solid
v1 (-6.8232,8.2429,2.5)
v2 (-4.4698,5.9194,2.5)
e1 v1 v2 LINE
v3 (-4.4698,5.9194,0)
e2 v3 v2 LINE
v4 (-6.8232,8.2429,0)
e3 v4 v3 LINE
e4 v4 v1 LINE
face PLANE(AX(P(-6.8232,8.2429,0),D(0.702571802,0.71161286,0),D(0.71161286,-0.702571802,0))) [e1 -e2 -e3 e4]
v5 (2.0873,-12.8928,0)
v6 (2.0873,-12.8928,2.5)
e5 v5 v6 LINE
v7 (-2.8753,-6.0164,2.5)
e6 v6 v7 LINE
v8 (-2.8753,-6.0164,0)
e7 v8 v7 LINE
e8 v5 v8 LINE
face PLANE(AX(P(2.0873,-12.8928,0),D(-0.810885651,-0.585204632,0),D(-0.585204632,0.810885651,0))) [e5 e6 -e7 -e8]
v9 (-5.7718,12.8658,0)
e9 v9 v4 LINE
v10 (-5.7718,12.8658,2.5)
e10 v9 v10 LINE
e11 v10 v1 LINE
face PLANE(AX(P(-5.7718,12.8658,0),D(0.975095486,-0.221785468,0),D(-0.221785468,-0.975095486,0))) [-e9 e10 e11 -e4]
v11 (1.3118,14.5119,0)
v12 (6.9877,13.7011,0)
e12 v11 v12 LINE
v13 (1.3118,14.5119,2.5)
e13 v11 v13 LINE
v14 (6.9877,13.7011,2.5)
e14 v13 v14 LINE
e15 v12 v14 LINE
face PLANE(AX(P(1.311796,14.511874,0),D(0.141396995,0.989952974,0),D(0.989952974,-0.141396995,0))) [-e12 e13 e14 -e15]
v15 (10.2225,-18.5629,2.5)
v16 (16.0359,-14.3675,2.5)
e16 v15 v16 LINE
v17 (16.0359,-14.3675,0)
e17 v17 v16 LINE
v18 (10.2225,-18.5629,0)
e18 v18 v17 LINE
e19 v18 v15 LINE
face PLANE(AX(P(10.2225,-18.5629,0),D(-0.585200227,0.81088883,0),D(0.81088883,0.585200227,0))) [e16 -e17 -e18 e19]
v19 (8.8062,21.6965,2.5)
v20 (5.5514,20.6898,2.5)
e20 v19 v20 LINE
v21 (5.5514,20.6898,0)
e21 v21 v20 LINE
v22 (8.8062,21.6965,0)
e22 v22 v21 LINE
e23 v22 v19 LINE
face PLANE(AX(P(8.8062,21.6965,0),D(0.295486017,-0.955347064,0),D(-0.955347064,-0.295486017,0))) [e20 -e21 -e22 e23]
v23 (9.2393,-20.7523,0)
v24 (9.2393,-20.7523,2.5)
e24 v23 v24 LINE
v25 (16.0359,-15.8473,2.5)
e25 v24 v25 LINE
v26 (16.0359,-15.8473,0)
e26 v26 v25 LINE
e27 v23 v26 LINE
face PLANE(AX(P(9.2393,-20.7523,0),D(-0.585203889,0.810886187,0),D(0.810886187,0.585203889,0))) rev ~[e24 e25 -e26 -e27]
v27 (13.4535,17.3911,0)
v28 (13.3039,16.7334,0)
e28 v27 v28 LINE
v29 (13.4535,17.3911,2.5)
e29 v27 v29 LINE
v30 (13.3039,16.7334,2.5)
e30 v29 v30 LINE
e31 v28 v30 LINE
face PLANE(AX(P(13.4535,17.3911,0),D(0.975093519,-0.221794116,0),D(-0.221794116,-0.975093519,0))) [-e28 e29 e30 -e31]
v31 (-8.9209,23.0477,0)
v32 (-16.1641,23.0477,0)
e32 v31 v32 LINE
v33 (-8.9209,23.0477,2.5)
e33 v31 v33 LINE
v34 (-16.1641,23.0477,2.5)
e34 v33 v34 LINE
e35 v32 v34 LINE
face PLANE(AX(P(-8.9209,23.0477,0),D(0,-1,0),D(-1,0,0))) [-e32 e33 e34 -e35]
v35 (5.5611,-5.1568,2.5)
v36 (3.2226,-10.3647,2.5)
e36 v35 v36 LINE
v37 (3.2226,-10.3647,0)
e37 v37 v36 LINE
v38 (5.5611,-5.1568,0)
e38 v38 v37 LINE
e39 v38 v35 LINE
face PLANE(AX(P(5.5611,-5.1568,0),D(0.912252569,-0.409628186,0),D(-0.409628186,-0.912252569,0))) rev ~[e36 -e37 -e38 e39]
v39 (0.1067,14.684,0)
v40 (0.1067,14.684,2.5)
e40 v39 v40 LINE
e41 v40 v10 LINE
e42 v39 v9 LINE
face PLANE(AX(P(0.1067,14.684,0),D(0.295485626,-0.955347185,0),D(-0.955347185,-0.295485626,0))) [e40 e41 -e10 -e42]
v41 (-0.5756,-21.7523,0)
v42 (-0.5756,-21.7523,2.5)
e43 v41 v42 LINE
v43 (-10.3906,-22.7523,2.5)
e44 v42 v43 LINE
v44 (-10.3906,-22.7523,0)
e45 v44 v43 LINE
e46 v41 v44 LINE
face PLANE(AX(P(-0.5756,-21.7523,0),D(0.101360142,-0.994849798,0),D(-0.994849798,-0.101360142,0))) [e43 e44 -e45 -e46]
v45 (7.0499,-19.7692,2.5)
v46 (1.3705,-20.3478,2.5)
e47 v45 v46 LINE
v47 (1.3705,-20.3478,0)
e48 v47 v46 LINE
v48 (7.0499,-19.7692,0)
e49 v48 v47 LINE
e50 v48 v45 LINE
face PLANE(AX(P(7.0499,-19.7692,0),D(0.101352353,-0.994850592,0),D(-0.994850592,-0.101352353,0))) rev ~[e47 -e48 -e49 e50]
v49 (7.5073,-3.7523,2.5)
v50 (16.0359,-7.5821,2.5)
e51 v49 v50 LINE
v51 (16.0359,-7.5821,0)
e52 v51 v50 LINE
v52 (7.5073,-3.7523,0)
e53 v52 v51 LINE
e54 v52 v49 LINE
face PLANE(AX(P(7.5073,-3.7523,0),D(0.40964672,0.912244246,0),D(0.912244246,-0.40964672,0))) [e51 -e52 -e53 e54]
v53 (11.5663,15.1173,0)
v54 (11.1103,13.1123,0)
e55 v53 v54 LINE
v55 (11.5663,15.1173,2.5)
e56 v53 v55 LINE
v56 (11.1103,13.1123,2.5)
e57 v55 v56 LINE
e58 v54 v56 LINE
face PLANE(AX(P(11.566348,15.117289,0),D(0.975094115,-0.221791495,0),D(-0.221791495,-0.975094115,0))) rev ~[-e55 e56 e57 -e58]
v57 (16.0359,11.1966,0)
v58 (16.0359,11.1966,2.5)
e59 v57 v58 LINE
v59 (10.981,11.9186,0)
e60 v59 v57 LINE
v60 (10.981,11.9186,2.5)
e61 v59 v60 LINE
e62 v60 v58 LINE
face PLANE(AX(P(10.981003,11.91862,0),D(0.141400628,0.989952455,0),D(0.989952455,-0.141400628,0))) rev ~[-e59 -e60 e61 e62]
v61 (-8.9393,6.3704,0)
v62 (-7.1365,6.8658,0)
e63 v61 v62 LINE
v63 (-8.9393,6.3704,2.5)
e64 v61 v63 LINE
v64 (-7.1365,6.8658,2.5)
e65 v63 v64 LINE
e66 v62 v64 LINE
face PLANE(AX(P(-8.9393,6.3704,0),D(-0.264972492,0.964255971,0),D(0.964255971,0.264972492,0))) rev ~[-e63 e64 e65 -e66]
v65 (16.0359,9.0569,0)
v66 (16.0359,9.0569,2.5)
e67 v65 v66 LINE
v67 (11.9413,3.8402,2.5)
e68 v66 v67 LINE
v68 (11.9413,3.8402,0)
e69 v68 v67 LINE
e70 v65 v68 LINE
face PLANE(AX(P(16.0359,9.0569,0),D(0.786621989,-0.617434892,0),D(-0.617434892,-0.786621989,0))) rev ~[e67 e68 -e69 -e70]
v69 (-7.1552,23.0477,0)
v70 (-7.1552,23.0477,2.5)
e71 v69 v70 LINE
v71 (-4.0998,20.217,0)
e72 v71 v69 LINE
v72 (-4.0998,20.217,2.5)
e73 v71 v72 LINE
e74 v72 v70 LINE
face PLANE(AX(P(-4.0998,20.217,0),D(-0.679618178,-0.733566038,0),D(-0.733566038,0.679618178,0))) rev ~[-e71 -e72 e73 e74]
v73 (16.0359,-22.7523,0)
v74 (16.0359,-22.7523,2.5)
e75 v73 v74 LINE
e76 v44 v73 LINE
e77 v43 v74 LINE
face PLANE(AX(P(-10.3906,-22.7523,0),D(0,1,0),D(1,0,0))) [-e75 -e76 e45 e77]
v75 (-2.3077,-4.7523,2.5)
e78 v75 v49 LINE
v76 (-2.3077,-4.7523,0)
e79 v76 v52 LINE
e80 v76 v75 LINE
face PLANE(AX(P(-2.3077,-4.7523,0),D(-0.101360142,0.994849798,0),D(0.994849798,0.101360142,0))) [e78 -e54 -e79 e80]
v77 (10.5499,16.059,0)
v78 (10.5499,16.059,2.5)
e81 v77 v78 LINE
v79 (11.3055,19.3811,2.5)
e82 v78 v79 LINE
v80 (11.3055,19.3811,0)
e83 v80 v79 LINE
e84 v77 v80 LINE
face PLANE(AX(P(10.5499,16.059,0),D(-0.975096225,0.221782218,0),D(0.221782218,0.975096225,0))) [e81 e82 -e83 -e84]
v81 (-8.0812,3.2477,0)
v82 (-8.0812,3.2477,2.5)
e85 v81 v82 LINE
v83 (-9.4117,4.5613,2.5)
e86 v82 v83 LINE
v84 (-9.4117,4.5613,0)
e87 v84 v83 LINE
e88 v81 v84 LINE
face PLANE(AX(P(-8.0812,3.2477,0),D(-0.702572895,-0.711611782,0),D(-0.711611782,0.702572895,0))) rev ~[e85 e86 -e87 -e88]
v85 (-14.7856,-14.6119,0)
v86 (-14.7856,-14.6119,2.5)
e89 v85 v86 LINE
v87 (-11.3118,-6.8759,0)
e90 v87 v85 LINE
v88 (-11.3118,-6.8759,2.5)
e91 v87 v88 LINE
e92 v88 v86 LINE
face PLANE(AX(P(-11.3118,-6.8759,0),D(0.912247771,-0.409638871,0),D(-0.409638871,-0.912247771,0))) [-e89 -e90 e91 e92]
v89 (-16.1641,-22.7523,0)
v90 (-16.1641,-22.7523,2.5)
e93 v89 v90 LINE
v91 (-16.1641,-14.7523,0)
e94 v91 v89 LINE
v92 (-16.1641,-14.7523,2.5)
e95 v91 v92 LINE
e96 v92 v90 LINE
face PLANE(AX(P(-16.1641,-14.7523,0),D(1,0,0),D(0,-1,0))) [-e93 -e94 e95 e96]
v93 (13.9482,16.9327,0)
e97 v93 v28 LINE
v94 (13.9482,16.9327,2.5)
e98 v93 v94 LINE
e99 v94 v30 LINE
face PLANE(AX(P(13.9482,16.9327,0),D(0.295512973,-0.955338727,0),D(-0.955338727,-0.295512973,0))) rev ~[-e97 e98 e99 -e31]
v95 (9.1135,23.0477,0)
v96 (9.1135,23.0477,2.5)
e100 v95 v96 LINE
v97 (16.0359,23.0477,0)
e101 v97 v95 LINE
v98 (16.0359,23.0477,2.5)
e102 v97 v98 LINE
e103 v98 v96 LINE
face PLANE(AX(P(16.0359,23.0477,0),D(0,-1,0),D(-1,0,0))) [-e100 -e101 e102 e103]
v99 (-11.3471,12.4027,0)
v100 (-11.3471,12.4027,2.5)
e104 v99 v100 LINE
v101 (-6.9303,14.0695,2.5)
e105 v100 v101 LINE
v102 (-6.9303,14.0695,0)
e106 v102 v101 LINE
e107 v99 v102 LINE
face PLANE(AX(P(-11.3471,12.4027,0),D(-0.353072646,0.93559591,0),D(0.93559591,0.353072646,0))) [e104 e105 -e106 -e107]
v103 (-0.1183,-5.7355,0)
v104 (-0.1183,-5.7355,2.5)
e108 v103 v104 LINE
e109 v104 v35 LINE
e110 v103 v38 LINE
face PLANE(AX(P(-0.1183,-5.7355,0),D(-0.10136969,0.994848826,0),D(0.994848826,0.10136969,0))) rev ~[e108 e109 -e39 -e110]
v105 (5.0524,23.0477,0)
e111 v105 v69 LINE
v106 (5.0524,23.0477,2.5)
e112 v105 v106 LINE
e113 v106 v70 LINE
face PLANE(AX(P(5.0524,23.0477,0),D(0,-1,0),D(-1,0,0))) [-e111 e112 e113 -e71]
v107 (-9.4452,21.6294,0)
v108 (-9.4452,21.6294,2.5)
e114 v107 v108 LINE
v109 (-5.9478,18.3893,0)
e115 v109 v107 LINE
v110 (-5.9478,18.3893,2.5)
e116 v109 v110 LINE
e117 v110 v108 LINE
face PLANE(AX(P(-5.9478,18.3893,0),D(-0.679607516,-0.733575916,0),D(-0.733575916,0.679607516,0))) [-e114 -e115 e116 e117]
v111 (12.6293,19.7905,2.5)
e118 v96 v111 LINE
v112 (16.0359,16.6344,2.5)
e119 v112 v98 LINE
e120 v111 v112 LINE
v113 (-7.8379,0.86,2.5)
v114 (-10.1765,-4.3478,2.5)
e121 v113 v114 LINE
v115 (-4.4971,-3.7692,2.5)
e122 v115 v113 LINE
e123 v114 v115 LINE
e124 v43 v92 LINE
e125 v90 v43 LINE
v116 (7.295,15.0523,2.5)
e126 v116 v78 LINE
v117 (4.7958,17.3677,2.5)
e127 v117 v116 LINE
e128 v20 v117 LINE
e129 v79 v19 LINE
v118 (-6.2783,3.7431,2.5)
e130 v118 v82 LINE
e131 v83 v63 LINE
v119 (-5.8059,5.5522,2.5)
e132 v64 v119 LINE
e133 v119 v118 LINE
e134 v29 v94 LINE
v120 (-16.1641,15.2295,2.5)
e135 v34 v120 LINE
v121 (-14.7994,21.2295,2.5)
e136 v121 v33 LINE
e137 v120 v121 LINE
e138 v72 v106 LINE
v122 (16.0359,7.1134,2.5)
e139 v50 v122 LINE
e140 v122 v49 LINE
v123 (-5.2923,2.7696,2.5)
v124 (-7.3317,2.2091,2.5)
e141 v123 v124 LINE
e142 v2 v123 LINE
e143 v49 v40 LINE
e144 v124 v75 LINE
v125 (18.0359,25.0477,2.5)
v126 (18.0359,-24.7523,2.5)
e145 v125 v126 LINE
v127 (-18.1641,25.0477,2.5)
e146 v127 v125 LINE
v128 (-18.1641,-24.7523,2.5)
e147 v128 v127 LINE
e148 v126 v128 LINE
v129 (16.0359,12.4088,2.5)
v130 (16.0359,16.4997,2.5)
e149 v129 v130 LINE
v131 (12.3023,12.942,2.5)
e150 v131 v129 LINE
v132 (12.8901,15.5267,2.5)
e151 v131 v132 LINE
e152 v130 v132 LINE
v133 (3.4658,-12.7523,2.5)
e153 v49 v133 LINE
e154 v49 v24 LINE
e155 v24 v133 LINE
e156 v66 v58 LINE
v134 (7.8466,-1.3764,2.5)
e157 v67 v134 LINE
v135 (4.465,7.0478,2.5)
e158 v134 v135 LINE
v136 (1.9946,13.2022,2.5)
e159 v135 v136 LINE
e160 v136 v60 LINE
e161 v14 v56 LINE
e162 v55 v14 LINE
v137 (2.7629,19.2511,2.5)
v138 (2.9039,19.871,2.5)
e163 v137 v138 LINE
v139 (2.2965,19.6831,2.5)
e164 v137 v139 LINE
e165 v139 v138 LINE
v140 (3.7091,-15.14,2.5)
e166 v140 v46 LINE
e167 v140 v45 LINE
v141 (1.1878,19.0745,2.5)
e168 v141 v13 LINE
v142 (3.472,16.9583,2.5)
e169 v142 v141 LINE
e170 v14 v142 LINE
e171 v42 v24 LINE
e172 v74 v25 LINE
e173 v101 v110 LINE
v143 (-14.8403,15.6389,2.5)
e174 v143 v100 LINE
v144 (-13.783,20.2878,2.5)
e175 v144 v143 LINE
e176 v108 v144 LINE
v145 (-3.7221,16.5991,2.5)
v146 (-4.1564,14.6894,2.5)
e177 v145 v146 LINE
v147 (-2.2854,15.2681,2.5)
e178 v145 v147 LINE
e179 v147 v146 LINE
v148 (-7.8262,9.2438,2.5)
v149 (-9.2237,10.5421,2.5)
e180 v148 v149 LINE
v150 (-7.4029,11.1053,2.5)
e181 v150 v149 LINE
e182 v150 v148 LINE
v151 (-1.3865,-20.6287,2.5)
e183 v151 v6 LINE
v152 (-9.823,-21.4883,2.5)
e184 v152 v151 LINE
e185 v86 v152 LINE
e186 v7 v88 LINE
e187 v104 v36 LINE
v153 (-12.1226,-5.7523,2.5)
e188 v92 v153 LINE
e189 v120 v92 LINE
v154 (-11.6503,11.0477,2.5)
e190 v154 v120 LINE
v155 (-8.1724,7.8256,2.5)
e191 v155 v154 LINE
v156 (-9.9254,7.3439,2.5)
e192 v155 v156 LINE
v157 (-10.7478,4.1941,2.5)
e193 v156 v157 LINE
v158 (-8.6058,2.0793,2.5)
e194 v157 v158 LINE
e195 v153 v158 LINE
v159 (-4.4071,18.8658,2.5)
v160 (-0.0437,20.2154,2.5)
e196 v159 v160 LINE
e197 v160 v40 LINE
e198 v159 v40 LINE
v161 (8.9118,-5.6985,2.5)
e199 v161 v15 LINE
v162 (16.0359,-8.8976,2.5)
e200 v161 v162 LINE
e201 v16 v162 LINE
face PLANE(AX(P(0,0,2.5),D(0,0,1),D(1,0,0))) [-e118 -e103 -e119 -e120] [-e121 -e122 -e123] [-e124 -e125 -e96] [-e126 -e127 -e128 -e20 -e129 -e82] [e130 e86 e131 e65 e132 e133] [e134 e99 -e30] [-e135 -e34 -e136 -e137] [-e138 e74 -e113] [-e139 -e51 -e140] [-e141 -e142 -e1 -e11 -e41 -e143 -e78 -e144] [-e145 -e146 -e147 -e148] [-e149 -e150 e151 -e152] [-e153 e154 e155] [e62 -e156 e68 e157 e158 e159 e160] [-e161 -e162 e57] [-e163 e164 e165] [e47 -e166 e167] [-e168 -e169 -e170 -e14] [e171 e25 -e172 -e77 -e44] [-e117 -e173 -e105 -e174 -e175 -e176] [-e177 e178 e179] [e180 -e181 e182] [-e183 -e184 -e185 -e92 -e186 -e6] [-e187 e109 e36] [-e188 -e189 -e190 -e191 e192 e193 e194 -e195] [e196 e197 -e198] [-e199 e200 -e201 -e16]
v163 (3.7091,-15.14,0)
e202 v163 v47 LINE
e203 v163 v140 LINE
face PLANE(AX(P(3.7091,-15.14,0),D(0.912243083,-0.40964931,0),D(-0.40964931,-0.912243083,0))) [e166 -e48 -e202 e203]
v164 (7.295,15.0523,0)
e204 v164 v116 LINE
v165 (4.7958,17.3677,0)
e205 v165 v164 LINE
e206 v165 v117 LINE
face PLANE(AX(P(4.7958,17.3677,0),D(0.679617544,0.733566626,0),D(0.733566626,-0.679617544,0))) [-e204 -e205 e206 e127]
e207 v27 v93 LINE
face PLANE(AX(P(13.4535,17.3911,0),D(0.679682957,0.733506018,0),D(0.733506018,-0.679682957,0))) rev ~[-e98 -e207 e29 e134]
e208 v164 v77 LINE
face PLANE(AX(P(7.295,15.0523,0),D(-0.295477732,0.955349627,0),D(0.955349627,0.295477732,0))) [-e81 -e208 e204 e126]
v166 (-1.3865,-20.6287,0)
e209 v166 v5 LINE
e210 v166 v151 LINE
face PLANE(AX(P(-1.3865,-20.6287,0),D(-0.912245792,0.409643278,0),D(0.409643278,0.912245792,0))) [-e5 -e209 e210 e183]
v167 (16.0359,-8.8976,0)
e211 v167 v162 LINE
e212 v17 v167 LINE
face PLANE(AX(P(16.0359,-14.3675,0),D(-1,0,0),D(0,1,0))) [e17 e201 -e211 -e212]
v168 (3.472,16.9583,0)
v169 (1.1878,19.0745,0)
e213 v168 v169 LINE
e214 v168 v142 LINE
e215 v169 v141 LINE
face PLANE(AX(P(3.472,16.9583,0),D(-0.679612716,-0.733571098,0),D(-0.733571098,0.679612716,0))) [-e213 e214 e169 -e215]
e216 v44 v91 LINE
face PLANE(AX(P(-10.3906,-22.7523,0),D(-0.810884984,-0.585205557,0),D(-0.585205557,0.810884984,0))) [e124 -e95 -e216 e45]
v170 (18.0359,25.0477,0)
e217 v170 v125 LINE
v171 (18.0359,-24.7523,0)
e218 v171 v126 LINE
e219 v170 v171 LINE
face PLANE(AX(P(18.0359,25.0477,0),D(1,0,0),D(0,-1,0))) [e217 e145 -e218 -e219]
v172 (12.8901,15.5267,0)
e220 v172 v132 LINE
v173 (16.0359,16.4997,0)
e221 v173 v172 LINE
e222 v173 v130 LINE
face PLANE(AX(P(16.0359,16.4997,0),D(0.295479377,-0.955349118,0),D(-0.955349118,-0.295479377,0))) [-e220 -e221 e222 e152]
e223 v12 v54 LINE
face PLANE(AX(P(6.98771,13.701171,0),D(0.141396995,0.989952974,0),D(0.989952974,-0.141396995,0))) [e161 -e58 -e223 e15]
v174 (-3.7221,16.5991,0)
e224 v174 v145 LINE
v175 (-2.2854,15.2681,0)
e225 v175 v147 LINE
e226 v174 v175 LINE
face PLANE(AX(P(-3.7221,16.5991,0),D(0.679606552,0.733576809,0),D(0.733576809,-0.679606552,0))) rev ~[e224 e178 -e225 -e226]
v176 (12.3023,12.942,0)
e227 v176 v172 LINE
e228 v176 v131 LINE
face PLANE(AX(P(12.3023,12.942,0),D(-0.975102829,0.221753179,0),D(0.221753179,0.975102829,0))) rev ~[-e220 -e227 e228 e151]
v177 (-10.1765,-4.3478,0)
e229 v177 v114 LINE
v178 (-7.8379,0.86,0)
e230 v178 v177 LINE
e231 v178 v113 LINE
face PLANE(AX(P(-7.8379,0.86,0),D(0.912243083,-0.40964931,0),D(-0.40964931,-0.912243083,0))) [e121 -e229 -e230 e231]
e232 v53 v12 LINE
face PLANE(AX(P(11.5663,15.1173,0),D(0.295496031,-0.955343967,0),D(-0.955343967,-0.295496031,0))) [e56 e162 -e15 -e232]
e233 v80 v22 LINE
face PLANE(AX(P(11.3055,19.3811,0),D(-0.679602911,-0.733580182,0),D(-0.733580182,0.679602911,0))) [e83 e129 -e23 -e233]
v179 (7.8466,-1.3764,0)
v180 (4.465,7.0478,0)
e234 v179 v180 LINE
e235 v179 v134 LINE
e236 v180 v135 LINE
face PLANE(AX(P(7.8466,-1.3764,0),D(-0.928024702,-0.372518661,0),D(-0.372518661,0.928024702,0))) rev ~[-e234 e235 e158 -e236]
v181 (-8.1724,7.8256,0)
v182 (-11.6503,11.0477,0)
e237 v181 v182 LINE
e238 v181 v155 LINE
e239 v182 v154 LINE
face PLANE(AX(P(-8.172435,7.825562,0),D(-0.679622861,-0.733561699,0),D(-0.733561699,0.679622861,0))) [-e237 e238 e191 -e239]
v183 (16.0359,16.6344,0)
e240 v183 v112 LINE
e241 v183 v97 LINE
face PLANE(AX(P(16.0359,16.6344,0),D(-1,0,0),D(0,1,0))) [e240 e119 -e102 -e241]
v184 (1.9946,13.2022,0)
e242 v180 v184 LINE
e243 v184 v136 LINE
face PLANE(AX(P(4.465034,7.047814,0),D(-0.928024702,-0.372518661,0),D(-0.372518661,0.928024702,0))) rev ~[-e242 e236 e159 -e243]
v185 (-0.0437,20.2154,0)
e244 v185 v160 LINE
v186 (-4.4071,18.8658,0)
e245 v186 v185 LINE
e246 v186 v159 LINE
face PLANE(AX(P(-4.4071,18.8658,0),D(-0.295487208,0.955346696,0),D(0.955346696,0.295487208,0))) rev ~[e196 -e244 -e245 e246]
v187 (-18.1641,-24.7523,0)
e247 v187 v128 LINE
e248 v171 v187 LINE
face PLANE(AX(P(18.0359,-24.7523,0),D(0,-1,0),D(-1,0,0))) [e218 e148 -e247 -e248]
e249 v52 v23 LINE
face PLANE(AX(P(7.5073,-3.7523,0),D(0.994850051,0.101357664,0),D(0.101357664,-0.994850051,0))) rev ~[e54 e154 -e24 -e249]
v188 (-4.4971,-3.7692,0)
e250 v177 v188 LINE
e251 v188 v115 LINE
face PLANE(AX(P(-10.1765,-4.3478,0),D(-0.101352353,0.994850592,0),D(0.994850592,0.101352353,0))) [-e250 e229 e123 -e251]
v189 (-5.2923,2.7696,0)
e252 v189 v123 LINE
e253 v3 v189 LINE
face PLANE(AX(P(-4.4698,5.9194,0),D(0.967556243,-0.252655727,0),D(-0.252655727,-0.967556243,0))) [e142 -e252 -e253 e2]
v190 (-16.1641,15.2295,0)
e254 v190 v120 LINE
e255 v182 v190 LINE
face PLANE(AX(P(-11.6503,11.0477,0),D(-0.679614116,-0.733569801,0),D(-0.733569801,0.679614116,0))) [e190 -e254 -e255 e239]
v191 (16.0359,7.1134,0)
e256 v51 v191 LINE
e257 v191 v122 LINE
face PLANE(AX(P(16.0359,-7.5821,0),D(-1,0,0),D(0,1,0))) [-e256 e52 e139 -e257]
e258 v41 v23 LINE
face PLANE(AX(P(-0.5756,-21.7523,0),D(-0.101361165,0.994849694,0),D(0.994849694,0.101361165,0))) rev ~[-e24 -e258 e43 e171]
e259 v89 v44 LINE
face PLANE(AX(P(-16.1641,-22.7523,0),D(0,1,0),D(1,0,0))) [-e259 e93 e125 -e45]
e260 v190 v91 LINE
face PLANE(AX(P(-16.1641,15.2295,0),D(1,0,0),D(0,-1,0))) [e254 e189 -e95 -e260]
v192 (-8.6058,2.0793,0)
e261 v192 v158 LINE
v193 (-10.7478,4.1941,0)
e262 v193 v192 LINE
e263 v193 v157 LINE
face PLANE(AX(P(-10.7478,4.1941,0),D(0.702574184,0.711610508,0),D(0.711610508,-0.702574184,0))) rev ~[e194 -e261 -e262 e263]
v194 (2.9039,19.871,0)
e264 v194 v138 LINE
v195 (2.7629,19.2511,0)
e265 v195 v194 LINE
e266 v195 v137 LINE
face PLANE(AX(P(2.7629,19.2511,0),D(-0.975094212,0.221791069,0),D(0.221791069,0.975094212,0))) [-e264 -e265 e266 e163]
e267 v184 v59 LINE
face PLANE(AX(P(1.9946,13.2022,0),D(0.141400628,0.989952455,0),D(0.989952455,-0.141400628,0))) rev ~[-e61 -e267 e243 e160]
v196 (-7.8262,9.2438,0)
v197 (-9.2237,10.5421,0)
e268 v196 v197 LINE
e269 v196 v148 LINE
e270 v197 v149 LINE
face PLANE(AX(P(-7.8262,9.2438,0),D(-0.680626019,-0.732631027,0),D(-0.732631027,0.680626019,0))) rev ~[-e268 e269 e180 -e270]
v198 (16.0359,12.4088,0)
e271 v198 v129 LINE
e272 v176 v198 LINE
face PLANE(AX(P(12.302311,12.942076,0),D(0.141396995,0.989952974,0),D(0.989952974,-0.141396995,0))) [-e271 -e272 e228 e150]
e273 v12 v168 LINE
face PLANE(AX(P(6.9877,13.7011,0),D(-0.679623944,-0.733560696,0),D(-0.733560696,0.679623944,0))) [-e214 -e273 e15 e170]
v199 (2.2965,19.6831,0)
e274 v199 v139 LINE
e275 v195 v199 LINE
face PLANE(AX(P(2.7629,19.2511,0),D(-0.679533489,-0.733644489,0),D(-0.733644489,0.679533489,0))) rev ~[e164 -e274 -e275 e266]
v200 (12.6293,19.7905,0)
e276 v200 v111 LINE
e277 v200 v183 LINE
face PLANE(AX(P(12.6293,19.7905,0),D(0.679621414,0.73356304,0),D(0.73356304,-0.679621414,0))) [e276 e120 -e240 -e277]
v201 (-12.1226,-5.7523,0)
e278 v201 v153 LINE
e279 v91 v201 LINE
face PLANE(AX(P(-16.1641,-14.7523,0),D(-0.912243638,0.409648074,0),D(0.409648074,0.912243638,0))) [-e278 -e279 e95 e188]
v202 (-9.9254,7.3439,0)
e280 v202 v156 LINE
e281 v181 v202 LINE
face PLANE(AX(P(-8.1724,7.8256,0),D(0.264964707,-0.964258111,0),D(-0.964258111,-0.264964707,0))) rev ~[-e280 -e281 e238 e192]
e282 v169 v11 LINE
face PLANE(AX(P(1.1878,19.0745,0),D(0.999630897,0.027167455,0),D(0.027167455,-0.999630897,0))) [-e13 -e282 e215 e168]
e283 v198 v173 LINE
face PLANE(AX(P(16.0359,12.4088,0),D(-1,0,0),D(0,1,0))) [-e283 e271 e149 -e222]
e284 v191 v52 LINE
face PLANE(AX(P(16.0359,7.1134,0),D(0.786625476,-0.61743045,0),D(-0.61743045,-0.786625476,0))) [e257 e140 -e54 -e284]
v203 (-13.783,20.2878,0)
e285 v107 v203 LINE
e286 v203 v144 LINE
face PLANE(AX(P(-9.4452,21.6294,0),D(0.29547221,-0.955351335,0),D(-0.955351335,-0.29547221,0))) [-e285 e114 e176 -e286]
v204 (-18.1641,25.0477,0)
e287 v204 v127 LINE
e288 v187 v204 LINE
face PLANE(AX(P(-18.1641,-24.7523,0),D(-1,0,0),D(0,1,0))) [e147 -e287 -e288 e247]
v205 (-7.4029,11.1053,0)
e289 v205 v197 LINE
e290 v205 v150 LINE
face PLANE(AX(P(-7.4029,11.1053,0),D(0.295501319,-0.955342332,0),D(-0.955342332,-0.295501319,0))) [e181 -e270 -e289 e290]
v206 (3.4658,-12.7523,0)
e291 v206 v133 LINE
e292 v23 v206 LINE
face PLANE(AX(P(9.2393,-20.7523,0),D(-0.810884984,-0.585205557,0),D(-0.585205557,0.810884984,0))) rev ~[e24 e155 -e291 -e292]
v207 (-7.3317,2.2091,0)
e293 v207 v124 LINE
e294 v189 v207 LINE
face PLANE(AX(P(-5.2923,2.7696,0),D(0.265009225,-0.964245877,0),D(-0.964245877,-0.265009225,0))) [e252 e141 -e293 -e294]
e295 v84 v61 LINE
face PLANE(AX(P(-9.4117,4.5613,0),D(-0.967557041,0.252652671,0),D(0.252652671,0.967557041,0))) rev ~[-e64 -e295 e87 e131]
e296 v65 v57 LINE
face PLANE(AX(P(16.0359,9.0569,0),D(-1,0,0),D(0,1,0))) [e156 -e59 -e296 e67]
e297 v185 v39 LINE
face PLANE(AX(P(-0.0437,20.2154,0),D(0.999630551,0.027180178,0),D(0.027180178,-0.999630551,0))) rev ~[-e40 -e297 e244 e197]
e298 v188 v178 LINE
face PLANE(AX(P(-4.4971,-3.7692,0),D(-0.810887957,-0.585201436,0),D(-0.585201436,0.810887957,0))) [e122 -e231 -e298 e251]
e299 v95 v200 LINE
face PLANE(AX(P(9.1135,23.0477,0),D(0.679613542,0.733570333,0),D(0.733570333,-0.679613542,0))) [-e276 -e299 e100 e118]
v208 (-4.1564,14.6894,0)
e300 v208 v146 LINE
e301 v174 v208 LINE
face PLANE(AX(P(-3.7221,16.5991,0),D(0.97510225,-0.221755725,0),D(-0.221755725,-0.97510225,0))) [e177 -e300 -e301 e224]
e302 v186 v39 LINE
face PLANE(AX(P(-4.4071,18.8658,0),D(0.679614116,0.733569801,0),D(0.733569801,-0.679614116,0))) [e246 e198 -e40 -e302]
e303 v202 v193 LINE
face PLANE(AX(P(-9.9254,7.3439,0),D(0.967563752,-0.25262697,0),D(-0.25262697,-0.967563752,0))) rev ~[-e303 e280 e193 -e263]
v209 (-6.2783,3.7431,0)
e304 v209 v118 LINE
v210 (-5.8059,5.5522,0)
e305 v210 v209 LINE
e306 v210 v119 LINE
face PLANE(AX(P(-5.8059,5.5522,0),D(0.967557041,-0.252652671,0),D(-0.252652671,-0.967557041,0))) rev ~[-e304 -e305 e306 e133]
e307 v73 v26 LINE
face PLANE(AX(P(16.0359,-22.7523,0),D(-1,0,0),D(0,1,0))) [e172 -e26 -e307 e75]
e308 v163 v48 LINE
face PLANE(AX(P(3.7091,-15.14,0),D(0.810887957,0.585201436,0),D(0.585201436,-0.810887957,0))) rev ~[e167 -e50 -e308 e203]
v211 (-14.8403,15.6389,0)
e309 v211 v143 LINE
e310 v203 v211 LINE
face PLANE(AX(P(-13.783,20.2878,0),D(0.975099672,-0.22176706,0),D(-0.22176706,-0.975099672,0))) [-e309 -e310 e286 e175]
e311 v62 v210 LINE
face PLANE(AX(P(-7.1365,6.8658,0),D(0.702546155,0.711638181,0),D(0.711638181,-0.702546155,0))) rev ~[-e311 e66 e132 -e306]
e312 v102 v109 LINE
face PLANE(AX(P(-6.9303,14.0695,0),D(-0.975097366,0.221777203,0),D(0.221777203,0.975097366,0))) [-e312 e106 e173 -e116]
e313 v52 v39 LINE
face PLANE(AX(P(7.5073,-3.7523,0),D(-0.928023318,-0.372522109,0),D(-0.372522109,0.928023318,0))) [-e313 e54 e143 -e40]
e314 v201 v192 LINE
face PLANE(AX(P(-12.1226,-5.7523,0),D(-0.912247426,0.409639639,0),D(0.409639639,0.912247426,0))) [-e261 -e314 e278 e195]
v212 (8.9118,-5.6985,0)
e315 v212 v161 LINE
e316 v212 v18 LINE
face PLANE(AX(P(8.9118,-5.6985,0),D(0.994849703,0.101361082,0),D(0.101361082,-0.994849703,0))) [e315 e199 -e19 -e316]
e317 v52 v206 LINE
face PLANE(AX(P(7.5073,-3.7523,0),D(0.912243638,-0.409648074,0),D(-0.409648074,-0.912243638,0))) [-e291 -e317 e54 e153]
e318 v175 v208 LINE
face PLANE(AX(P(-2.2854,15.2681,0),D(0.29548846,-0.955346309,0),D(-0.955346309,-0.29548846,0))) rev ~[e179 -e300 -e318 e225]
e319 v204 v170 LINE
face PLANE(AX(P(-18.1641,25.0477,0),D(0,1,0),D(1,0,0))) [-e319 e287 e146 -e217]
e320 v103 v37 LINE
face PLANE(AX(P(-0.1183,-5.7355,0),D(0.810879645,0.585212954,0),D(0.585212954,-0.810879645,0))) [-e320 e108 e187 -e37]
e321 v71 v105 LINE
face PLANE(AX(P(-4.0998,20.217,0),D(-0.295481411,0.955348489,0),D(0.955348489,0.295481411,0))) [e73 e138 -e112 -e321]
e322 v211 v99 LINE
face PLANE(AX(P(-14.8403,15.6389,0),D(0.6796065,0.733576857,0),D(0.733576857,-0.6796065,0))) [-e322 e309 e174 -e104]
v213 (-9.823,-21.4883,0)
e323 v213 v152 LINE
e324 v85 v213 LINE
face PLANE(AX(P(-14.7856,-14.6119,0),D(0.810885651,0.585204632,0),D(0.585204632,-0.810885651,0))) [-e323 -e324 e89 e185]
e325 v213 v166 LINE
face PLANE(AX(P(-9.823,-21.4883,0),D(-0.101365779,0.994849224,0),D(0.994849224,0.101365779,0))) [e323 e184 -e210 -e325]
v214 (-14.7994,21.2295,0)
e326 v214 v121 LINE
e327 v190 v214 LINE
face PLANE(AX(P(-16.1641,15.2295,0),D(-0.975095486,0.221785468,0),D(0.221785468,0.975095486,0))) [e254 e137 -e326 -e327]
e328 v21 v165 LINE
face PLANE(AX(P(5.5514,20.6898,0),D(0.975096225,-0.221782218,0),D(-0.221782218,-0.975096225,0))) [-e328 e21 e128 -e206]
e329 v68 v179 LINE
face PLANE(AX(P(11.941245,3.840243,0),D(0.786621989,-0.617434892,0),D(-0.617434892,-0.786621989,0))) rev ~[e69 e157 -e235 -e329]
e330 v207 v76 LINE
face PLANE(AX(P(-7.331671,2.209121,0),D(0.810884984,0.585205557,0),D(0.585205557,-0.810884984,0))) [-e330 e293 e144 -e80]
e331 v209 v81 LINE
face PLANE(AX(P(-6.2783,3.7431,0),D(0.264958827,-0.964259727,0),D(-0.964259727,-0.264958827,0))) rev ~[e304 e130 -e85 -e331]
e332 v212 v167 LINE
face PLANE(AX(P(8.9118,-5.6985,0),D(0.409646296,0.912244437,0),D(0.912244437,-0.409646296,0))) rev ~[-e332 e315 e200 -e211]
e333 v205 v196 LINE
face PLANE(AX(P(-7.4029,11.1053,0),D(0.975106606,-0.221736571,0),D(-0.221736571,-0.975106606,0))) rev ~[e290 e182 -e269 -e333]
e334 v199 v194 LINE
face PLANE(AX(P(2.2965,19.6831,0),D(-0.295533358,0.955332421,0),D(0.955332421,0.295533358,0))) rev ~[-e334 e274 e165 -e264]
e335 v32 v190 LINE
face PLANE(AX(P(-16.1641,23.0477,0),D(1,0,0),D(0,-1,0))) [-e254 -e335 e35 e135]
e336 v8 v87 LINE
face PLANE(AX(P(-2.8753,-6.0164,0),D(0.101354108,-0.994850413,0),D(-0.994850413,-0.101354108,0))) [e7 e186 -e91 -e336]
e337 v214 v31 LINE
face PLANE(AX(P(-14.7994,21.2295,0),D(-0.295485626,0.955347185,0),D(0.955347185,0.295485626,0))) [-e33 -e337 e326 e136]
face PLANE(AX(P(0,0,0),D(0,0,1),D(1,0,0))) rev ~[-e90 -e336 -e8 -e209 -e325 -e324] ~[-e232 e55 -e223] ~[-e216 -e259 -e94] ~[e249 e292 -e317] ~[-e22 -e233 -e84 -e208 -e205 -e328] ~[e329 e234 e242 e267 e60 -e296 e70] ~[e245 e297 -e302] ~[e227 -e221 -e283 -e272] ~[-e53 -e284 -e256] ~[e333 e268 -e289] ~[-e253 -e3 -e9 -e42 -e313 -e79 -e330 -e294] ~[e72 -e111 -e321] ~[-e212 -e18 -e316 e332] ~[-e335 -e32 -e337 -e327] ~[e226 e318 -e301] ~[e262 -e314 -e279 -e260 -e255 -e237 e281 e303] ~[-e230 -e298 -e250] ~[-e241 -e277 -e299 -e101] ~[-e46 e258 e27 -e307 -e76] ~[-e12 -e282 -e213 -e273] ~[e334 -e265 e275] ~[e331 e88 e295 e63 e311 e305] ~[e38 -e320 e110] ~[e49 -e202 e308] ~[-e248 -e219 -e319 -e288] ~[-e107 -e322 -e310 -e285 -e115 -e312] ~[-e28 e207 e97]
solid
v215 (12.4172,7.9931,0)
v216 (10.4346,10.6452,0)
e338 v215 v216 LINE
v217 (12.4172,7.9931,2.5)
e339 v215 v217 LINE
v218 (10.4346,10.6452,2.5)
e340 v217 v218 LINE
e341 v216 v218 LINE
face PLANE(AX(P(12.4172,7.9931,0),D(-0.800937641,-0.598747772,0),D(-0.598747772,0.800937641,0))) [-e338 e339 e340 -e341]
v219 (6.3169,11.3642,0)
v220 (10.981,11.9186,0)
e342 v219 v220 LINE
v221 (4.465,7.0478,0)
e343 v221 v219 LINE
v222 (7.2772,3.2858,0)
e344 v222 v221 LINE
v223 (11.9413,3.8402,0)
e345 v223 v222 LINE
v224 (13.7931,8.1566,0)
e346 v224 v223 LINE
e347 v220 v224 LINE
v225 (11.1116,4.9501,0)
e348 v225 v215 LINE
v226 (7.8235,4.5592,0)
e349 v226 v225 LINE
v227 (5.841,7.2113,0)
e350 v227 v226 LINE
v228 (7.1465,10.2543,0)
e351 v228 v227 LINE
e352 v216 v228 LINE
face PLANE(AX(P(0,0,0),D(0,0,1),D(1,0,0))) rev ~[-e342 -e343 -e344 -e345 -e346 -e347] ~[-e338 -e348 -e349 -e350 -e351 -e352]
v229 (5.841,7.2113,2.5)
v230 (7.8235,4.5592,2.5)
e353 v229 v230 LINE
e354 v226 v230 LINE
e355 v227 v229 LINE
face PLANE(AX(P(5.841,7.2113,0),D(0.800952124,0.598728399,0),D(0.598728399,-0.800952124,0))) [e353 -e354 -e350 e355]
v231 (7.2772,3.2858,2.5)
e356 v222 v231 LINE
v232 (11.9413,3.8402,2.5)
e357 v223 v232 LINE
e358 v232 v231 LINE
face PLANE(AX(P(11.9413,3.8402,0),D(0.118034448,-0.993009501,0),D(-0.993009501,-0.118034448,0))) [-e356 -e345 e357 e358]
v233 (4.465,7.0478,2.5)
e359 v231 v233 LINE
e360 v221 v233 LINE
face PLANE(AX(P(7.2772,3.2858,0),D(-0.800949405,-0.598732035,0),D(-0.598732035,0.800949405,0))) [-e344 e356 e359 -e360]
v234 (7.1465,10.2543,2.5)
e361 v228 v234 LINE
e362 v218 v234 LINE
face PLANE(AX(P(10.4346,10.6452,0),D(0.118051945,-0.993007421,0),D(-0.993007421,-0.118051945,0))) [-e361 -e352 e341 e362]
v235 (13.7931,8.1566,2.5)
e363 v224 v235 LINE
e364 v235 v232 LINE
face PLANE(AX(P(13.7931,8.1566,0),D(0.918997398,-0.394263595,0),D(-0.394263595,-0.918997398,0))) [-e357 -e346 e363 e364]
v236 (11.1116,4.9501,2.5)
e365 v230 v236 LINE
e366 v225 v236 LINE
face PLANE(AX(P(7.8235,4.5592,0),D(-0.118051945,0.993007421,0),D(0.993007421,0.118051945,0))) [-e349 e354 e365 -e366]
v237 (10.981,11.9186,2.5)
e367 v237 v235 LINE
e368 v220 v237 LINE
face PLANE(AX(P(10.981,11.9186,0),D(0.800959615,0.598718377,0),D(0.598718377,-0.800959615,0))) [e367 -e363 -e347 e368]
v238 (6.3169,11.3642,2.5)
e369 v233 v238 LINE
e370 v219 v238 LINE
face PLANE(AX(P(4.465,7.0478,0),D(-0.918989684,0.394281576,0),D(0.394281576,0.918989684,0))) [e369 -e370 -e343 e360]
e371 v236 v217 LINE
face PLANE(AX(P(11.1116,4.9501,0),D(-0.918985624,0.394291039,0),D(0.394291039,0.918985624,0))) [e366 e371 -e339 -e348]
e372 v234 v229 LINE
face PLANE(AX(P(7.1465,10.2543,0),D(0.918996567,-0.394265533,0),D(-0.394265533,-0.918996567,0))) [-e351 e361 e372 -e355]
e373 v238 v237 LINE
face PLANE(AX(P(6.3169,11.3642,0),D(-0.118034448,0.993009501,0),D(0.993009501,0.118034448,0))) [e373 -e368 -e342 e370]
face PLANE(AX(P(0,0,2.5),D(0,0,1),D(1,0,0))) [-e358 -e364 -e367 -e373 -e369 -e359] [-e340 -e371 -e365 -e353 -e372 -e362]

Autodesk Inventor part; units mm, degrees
ref_plane "YZ Plane" through (0, 0, 0) normal (1, 0, 0) x (0, 1, 0)
ref_plane "XZ Plane" through (0, 0, 0) normal (0, 1, 0) x (-1, 0, 0)
ref_plane "XY Plane" through (0, 0, 0) normal (0, 0, 1) x (1, 0, 0)
sketch "Эскиз1" plane through (0, 0, 0) normal (0, 0, 1) x (1, 0, 0)
  line L0 (-18.1641, 25.0477) -> (18.0359, 25.0477)
  line L1 (18.0359, 25.0477) -> (18.0359, -24.7523)
  line L2 (18.0359, -24.7523) -> (-18.1641, -24.7523)
  line L3 (-18.1641, -24.7523) -> (-18.1641, 25.0477)
  line L4 (16.0359, -22.7523) -> (16.0359, 23.0477)
  line L5 (16.0359, 23.0477) -> (-16.1641, 23.0477)
  line L6 (-16.1641, 23.0477) -> (-16.1641, -22.7523)
  line L7 (-16.1641, -22.7523) -> (16.0359, -22.7523)
  line L8 (-10.3906, -22.7523) -> (-16.1641, -14.7523)
  line L9 (-16.1641, -14.7523) -> (-12.1226, -5.7523)
  line L10 (-12.1226, -5.7523) -> (-2.3077, -4.7523)
  line L11 (-2.3077, -4.7523) -> (3.4658, -12.7523)
  line L12 (3.4658, -12.7523) -> (-0.5756, -21.7523)
  line L13 (-0.5756, -21.7523) -> (-10.3906, -22.7523)
  line L14 (-1.3865, -20.6287) -> (2.0873, -12.8928)
  line L15 (2.0873, -12.8928) -> (-2.8753, -6.0164)
  line L16 (-2.8753, -6.0164) -> (-11.3118, -6.8759)
  line L17 (-11.3118, -6.8759) -> (-14.7856, -14.6119)
  line L18 (-14.7856, -14.6119) -> (-9.823, -21.4883)
  line L19 (-9.823, -21.4883) -> (-1.3865, -20.6287)
  line L20 (-0.5756, -21.7523) -> (9.2393, -20.7523)
  line L21 (9.2393, -20.7523) -> (3.4658, -12.7523)
  line L22 (7.0499, -19.7692) -> (1.3705, -20.3478)
  line L23 (3.7091, -15.14) -> (1.3705, -20.3478)
  line L24 (3.7091, -15.14) -> (7.0499, -19.7692)
  line L25 (-12.1226, -5.7523) -> (-8.0812, 3.2477)
  line L26 (-8.0812, 3.2477) -> (-2.3077, -4.7523)
  line L27 (-2.3077, -4.7523) -> (-12.1226, -5.7523)
  line L28 (-10.1765, -4.3478) -> (-4.4971, -3.7692)
  line L29 (-4.4971, -3.7692) -> (-7.8379, 0.86)
  line L30 (-7.8379, 0.86) -> (-10.1765, -4.3478)
  line L31 (3.4658, -12.7523) -> (-2.3077, -4.7523)
  line L32 (-2.3077, -4.7523) -> (7.5073, -3.7523)
  line L33 (7.5073, -3.7523) -> (3.4658, -12.7523)
  line L34 (-0.1183, -5.7355) -> (5.5611, -5.1568)
  line L35 (5.5611, -5.1568) -> (3.2226, -10.3647)
  line L36 (-0.1183, -5.7355) -> (3.2226, -10.3647)
  line L37 (-11.6503, 11.0477) -> (-16.1641, 15.2295)
  line L38 (-16.1641, 15.2295) -> (-14.7994, 21.2295)
  line L39 (-14.7994, 21.2295) -> (-8.9209, 23.0477)
  line L40 (-8.9209, 23.0477) -> (-4.4071, 18.8658)
  line L41 (-4.4071, 18.8658) -> (-5.7718, 12.8658)
  line L42 (-7.1851, 12.4287) -> (-10.4106, 11.4311)
  line L43 (-9.4452, 21.6294) -> (-13.783, 20.2878)
  line L44 (-13.783, 20.2878) -> (-14.8403, 15.6389)
  line L45 (-14.8403, 15.6389) -> (-11.3471, 12.4027)
  line L46 (-11.3471, 12.4027) -> (-6.9303, 14.0695)
  line L47 (-6.9303, 14.0695) -> (-5.9478, 18.3893)
  line L48 (-5.9478, 18.3893) -> (-9.4452, 21.6294)
  line L49 (-5.7718, 12.8658) -> (-7.1365, 6.8658)
  line L50 (-7.1365, 6.8658) -> (-11.6503, 11.0477)
  line L51 (-10.4106, 11.4311) -> (-7.1851, 12.4287)
  line L52 (-7.4029, 11.1053) -> (-7.8262, 9.2438)
  line L53 (-7.8262, 9.2438) -> (-9.2237, 10.5421)
  line L54 (-5.7718, 12.8658) -> (-4.4071, 18.8658)
  line L55 (-4.4071, 18.8658) -> (0.1067, 14.684)
  line L56 (0.1067, 14.684) -> (-5.7718, 12.8658)
  line L57 (-2.2854, 15.2681) -> (-4.1564, 14.6894)
  line L58 (-3.7221, 16.5991) -> (-2.2854, 15.2681)
  line L59 (-3.7221, 16.5991) -> (-4.1564, 14.6894)
  line L60 (-7.4029, 11.1053) -> (-9.2237, 10.5421)
  line L61 (-5.7718, 12.8658) -> (-7.1851, 12.4287)
  line L62 (-10.4106, 11.4311) -> (-11.6503, 11.0477)
  line L63 (7.5073, -3.7523) -> (0.1067, 14.684)
  line L64 (16.0359, 7.1134) -> (7.5073, -3.7523)
  line L65 (16.0359, 9.0569) -> (7.8466, -1.3764)
  line L66 (1.9946, 13.2022) -> (16.0359, 11.1966)
  line L67 (7.8466, -1.3764) -> (1.9946, 13.2022)
  line L68 (0.1067, 14.684) -> (16.0359, 12.4088)
  line L69 (11.9413, 3.8402) -> (7.2772, 3.2858)
  line L70 (7.2772, 3.2858) -> (4.465, 7.0478)
  line L71 (4.465, 7.0478) -> (6.3169, 11.3642)
  line L72 (6.3169, 11.3642) -> (10.981, 11.9186)
  line L73 (10.981, 11.9186) -> (13.7931, 8.1566)
  line L74 (13.7931, 8.1566) -> (11.9413, 3.8402)
  line L75 (7.8235, 4.5592) -> (11.1116, 4.9501)
  line L76 (11.1116, 4.9501) -> (12.4172, 7.9931)
  line L77 (12.4172, 7.9931) -> (10.4346, 10.6452)
  line L78 (10.4346, 10.6452) -> (7.1465, 10.2543)
  line L79 (7.1465, 10.2543) -> (5.841, 7.2113)
  line L80 (5.841, 7.2113) -> (7.8235, 4.5592)
  line L81 (7.5073, -3.7523) -> (9.2393, -20.7523)
  line L82 (9.2393, -20.7523) -> (16.0359, -15.8473)
  line L83 (7.5073, -3.7523) -> (16.0359, -7.5821)
  line L84 (8.9118, -5.6985) -> (16.0359, -8.8976)
  line L85 (10.2225, -18.5629) -> (16.0359, -14.3675)
  line L86 (8.9118, -5.6985) -> (10.2225, -18.5629)
  line L87 (-4.4071, 18.8658) -> (9.1135, 23.0477)
  line L88 (-4.0998, 20.217) -> (5.0524, 23.0477)
  line L89 (-4.0998, 20.217) -> (-7.1552, 23.0477)
  line L90 (6.9877, 13.7011) -> (3.472, 16.9583)
  line L91 (3.472, 16.9583) -> (4.5349, 21.6315)
  line L92 (4.5349, 21.6315) -> (9.1135, 23.0477)
  line L93 (9.1135, 23.0477) -> (12.6293, 19.7905)
  line L94 (12.6293, 19.7905) -> (11.5663, 15.1173)
  line L95 (11.5663, 15.1173) -> (6.9877, 13.7011)
  line L96 (11.3055, 19.3811) -> (8.8062, 21.6965)
  line L97 (8.8062, 21.6965) -> (5.5514, 20.6898)
  line L98 (5.5514, 20.6898) -> (4.7958, 17.3677)
  line L99 (4.7958, 17.3677) -> (7.295, 15.0523)
  line L100 (7.295, 15.0523) -> (10.5499, 16.059)
  line L101 (10.5499, 16.059) -> (11.3055, 19.3811)
  line L102 (11.5663, 15.1173) -> (12.6293, 19.7905)
  line L103 (12.6293, 19.7905) -> (16.0359, 16.6344)
  line L104 (16.145, 16.5334) -> (16.0359, 16.4997) construction
  line L105 (16.0359, 16.6344) -> (16.145, 16.5334) construction
  line L106 (13.4535, 17.3911) -> (13.9482, 16.9327)
  line L107 (13.9482, 16.9327) -> (13.3039, 16.7334)
  line L108 (13.4535, 17.3911) -> (13.3039, 16.7334)
  line L109 (16.0359, 16.4997) -> (11.5663, 15.1173)
  line L110 (12.6293, 19.7905) -> (11.1103, 13.1123)
  line L111 (4.5349, 21.6315) -> (3.472, 16.9583)
  line L112 (3.472, 16.9583) -> (-0.0437, 20.2154)
  line L113 (-0.0437, 20.2154) -> (4.5349, 21.6315)
  line L114 (6.9877, 13.7011) -> (11.1103, 13.1123)
  line L115 (-0.0437, 20.2154) -> (0.1067, 14.684)
  line L116 (1.1878, 19.0745) -> (1.3118, 14.5119)
  line L117 (2.2965, 19.6831) -> (2.9039, 19.871)
  line L118 (2.7629, 19.2511) -> (2.2965, 19.6831)
  line L119 (2.7629, 19.2511) -> (2.9039, 19.871)
  line L120 (12.3023, 12.942) -> (12.8901, 15.5267)
  line L121 (-8.0812, 3.2477) -> (-9.4117, 4.5613)
  line L122 (-9.4117, 4.5613) -> (-8.9393, 6.3704)
  line L123 (-8.9393, 6.3704) -> (-7.1365, 6.8658)
  line L124 (-7.1365, 6.8658) -> (-5.8059, 5.5522)
  line L125 (-5.8059, 5.5522) -> (-6.2783, 3.7431)
  line L126 (-6.2783, 3.7431) -> (-8.0812, 3.2477)
  line L127 (-6.8232, 8.2429) -> (-4.4698, 5.9194)
  line L128 (-4.4698, 5.9194) -> (-5.2923, 2.7696)
  line L129 (-5.2923, 2.7696) -> (-7.3317, 2.2091)
  line L130 (-8.1724, 7.8256) -> (-9.9254, 7.3439)
  line L131 (-9.9254, 7.3439) -> (-10.7478, 4.1941)
  line L132 (-10.7478, 4.1941) -> (-8.6058, 2.0793)
  point P0 (0, 0)
  point P1 (-6.3491, -13.7523)
  point P2 (-7.5038, -2.419)
  point P3 (2.8885, -7.0857)
  point P4 (-10.2856, 17.0477)
  point P5 (-8.1862, 10.2598)
  point P6 (-3.3574, 15.4719)
  point P7 (9.1291, 7.6022)
  point P8 (9.1291, 7.6022)
  point P9 (8.0506, 18.3744)
  point P10 (13.4469, 17.1471)
  point P11 (2.6544, 19.6017)
  point P12 (-7.6088, 5.0568)
  dimension "d0" = 36.2
  dimension "d1" = 49.8
  dimension "d21" = 2
  dimension "d22" = 1.2
  dimension "d24" = 8
  dimension "d25" = 9
  dimension "d26" = 60
  dimension "d27" = 60
  dimension "d31" = 1.2
  dimension "d32" = 1.2
  dimension "d33" = 1.2
  dimension "d39" = 1.2
  dimension "d40" = 1.2
  dimension "d41" = 1.2
  dimension "d44" = 1.2
  dimension "d45" = 1.2
  dimension "d46" = 1.2
  dimension "d47" = 6
  dimension "d48" = 1.2
  dimension "d49" = 1.2
  dimension "d53" = 1.2
  dimension "d74" = 1.2
  dimension "d75" = 60
  dimension "d76" = 60
  dimension "d77" = 1.2
  dimension "d79" = 1.2
  dimension "d81" = 1.2
  dimension "d83" = 1.2
  dimension "d84" = 1.2
  dimension "d85" = 1.2
  dimension "d86" = 60
  dimension "d87" = 60
  dimension "d88" = 60
  dimension "d89" = 1.2
  dimension "d90" = 1.2
  dimension "d100" = 1.2
  dimension "d102" = 1.2
  dimension "d109" = 1.2
  dimension "d113" = 1.2
  dimension "d117" = 1.2
  dimension "d118" = 1.2
extrude "Выдавливание1" add sketch "Эскиз1" along normal blind 2.5 contours L0 L1 L2 L3 | L82 L81 L83 L4 L84 L86 L85 | L8 L9 L10 L11 L12 L13 | L20 L12 L21 | L11 L32 L33 | L63 L68 L4 L66 L67 L65 L64 | L38 L39 L40 L41 L61 L42 L62 L37 | L25 L26 L10 | L56 L41 L55 | L115 L112 L116 L68 | L62 L42 L61 L49 L50 | L132 L131 L130 L50 L123 L122 L121 L25 | L26 L126 L125 L124 L49 L127 L128 L129 | L40 L5 L89 L88 L87 | L87 L91 L112 | L90 L91 L87 L93 L94 L95 | L69 L70 L71 L72 L73 L74 | L110 L109 L120 L68 | L94 L103 L4 L109
properties part number "стена"
